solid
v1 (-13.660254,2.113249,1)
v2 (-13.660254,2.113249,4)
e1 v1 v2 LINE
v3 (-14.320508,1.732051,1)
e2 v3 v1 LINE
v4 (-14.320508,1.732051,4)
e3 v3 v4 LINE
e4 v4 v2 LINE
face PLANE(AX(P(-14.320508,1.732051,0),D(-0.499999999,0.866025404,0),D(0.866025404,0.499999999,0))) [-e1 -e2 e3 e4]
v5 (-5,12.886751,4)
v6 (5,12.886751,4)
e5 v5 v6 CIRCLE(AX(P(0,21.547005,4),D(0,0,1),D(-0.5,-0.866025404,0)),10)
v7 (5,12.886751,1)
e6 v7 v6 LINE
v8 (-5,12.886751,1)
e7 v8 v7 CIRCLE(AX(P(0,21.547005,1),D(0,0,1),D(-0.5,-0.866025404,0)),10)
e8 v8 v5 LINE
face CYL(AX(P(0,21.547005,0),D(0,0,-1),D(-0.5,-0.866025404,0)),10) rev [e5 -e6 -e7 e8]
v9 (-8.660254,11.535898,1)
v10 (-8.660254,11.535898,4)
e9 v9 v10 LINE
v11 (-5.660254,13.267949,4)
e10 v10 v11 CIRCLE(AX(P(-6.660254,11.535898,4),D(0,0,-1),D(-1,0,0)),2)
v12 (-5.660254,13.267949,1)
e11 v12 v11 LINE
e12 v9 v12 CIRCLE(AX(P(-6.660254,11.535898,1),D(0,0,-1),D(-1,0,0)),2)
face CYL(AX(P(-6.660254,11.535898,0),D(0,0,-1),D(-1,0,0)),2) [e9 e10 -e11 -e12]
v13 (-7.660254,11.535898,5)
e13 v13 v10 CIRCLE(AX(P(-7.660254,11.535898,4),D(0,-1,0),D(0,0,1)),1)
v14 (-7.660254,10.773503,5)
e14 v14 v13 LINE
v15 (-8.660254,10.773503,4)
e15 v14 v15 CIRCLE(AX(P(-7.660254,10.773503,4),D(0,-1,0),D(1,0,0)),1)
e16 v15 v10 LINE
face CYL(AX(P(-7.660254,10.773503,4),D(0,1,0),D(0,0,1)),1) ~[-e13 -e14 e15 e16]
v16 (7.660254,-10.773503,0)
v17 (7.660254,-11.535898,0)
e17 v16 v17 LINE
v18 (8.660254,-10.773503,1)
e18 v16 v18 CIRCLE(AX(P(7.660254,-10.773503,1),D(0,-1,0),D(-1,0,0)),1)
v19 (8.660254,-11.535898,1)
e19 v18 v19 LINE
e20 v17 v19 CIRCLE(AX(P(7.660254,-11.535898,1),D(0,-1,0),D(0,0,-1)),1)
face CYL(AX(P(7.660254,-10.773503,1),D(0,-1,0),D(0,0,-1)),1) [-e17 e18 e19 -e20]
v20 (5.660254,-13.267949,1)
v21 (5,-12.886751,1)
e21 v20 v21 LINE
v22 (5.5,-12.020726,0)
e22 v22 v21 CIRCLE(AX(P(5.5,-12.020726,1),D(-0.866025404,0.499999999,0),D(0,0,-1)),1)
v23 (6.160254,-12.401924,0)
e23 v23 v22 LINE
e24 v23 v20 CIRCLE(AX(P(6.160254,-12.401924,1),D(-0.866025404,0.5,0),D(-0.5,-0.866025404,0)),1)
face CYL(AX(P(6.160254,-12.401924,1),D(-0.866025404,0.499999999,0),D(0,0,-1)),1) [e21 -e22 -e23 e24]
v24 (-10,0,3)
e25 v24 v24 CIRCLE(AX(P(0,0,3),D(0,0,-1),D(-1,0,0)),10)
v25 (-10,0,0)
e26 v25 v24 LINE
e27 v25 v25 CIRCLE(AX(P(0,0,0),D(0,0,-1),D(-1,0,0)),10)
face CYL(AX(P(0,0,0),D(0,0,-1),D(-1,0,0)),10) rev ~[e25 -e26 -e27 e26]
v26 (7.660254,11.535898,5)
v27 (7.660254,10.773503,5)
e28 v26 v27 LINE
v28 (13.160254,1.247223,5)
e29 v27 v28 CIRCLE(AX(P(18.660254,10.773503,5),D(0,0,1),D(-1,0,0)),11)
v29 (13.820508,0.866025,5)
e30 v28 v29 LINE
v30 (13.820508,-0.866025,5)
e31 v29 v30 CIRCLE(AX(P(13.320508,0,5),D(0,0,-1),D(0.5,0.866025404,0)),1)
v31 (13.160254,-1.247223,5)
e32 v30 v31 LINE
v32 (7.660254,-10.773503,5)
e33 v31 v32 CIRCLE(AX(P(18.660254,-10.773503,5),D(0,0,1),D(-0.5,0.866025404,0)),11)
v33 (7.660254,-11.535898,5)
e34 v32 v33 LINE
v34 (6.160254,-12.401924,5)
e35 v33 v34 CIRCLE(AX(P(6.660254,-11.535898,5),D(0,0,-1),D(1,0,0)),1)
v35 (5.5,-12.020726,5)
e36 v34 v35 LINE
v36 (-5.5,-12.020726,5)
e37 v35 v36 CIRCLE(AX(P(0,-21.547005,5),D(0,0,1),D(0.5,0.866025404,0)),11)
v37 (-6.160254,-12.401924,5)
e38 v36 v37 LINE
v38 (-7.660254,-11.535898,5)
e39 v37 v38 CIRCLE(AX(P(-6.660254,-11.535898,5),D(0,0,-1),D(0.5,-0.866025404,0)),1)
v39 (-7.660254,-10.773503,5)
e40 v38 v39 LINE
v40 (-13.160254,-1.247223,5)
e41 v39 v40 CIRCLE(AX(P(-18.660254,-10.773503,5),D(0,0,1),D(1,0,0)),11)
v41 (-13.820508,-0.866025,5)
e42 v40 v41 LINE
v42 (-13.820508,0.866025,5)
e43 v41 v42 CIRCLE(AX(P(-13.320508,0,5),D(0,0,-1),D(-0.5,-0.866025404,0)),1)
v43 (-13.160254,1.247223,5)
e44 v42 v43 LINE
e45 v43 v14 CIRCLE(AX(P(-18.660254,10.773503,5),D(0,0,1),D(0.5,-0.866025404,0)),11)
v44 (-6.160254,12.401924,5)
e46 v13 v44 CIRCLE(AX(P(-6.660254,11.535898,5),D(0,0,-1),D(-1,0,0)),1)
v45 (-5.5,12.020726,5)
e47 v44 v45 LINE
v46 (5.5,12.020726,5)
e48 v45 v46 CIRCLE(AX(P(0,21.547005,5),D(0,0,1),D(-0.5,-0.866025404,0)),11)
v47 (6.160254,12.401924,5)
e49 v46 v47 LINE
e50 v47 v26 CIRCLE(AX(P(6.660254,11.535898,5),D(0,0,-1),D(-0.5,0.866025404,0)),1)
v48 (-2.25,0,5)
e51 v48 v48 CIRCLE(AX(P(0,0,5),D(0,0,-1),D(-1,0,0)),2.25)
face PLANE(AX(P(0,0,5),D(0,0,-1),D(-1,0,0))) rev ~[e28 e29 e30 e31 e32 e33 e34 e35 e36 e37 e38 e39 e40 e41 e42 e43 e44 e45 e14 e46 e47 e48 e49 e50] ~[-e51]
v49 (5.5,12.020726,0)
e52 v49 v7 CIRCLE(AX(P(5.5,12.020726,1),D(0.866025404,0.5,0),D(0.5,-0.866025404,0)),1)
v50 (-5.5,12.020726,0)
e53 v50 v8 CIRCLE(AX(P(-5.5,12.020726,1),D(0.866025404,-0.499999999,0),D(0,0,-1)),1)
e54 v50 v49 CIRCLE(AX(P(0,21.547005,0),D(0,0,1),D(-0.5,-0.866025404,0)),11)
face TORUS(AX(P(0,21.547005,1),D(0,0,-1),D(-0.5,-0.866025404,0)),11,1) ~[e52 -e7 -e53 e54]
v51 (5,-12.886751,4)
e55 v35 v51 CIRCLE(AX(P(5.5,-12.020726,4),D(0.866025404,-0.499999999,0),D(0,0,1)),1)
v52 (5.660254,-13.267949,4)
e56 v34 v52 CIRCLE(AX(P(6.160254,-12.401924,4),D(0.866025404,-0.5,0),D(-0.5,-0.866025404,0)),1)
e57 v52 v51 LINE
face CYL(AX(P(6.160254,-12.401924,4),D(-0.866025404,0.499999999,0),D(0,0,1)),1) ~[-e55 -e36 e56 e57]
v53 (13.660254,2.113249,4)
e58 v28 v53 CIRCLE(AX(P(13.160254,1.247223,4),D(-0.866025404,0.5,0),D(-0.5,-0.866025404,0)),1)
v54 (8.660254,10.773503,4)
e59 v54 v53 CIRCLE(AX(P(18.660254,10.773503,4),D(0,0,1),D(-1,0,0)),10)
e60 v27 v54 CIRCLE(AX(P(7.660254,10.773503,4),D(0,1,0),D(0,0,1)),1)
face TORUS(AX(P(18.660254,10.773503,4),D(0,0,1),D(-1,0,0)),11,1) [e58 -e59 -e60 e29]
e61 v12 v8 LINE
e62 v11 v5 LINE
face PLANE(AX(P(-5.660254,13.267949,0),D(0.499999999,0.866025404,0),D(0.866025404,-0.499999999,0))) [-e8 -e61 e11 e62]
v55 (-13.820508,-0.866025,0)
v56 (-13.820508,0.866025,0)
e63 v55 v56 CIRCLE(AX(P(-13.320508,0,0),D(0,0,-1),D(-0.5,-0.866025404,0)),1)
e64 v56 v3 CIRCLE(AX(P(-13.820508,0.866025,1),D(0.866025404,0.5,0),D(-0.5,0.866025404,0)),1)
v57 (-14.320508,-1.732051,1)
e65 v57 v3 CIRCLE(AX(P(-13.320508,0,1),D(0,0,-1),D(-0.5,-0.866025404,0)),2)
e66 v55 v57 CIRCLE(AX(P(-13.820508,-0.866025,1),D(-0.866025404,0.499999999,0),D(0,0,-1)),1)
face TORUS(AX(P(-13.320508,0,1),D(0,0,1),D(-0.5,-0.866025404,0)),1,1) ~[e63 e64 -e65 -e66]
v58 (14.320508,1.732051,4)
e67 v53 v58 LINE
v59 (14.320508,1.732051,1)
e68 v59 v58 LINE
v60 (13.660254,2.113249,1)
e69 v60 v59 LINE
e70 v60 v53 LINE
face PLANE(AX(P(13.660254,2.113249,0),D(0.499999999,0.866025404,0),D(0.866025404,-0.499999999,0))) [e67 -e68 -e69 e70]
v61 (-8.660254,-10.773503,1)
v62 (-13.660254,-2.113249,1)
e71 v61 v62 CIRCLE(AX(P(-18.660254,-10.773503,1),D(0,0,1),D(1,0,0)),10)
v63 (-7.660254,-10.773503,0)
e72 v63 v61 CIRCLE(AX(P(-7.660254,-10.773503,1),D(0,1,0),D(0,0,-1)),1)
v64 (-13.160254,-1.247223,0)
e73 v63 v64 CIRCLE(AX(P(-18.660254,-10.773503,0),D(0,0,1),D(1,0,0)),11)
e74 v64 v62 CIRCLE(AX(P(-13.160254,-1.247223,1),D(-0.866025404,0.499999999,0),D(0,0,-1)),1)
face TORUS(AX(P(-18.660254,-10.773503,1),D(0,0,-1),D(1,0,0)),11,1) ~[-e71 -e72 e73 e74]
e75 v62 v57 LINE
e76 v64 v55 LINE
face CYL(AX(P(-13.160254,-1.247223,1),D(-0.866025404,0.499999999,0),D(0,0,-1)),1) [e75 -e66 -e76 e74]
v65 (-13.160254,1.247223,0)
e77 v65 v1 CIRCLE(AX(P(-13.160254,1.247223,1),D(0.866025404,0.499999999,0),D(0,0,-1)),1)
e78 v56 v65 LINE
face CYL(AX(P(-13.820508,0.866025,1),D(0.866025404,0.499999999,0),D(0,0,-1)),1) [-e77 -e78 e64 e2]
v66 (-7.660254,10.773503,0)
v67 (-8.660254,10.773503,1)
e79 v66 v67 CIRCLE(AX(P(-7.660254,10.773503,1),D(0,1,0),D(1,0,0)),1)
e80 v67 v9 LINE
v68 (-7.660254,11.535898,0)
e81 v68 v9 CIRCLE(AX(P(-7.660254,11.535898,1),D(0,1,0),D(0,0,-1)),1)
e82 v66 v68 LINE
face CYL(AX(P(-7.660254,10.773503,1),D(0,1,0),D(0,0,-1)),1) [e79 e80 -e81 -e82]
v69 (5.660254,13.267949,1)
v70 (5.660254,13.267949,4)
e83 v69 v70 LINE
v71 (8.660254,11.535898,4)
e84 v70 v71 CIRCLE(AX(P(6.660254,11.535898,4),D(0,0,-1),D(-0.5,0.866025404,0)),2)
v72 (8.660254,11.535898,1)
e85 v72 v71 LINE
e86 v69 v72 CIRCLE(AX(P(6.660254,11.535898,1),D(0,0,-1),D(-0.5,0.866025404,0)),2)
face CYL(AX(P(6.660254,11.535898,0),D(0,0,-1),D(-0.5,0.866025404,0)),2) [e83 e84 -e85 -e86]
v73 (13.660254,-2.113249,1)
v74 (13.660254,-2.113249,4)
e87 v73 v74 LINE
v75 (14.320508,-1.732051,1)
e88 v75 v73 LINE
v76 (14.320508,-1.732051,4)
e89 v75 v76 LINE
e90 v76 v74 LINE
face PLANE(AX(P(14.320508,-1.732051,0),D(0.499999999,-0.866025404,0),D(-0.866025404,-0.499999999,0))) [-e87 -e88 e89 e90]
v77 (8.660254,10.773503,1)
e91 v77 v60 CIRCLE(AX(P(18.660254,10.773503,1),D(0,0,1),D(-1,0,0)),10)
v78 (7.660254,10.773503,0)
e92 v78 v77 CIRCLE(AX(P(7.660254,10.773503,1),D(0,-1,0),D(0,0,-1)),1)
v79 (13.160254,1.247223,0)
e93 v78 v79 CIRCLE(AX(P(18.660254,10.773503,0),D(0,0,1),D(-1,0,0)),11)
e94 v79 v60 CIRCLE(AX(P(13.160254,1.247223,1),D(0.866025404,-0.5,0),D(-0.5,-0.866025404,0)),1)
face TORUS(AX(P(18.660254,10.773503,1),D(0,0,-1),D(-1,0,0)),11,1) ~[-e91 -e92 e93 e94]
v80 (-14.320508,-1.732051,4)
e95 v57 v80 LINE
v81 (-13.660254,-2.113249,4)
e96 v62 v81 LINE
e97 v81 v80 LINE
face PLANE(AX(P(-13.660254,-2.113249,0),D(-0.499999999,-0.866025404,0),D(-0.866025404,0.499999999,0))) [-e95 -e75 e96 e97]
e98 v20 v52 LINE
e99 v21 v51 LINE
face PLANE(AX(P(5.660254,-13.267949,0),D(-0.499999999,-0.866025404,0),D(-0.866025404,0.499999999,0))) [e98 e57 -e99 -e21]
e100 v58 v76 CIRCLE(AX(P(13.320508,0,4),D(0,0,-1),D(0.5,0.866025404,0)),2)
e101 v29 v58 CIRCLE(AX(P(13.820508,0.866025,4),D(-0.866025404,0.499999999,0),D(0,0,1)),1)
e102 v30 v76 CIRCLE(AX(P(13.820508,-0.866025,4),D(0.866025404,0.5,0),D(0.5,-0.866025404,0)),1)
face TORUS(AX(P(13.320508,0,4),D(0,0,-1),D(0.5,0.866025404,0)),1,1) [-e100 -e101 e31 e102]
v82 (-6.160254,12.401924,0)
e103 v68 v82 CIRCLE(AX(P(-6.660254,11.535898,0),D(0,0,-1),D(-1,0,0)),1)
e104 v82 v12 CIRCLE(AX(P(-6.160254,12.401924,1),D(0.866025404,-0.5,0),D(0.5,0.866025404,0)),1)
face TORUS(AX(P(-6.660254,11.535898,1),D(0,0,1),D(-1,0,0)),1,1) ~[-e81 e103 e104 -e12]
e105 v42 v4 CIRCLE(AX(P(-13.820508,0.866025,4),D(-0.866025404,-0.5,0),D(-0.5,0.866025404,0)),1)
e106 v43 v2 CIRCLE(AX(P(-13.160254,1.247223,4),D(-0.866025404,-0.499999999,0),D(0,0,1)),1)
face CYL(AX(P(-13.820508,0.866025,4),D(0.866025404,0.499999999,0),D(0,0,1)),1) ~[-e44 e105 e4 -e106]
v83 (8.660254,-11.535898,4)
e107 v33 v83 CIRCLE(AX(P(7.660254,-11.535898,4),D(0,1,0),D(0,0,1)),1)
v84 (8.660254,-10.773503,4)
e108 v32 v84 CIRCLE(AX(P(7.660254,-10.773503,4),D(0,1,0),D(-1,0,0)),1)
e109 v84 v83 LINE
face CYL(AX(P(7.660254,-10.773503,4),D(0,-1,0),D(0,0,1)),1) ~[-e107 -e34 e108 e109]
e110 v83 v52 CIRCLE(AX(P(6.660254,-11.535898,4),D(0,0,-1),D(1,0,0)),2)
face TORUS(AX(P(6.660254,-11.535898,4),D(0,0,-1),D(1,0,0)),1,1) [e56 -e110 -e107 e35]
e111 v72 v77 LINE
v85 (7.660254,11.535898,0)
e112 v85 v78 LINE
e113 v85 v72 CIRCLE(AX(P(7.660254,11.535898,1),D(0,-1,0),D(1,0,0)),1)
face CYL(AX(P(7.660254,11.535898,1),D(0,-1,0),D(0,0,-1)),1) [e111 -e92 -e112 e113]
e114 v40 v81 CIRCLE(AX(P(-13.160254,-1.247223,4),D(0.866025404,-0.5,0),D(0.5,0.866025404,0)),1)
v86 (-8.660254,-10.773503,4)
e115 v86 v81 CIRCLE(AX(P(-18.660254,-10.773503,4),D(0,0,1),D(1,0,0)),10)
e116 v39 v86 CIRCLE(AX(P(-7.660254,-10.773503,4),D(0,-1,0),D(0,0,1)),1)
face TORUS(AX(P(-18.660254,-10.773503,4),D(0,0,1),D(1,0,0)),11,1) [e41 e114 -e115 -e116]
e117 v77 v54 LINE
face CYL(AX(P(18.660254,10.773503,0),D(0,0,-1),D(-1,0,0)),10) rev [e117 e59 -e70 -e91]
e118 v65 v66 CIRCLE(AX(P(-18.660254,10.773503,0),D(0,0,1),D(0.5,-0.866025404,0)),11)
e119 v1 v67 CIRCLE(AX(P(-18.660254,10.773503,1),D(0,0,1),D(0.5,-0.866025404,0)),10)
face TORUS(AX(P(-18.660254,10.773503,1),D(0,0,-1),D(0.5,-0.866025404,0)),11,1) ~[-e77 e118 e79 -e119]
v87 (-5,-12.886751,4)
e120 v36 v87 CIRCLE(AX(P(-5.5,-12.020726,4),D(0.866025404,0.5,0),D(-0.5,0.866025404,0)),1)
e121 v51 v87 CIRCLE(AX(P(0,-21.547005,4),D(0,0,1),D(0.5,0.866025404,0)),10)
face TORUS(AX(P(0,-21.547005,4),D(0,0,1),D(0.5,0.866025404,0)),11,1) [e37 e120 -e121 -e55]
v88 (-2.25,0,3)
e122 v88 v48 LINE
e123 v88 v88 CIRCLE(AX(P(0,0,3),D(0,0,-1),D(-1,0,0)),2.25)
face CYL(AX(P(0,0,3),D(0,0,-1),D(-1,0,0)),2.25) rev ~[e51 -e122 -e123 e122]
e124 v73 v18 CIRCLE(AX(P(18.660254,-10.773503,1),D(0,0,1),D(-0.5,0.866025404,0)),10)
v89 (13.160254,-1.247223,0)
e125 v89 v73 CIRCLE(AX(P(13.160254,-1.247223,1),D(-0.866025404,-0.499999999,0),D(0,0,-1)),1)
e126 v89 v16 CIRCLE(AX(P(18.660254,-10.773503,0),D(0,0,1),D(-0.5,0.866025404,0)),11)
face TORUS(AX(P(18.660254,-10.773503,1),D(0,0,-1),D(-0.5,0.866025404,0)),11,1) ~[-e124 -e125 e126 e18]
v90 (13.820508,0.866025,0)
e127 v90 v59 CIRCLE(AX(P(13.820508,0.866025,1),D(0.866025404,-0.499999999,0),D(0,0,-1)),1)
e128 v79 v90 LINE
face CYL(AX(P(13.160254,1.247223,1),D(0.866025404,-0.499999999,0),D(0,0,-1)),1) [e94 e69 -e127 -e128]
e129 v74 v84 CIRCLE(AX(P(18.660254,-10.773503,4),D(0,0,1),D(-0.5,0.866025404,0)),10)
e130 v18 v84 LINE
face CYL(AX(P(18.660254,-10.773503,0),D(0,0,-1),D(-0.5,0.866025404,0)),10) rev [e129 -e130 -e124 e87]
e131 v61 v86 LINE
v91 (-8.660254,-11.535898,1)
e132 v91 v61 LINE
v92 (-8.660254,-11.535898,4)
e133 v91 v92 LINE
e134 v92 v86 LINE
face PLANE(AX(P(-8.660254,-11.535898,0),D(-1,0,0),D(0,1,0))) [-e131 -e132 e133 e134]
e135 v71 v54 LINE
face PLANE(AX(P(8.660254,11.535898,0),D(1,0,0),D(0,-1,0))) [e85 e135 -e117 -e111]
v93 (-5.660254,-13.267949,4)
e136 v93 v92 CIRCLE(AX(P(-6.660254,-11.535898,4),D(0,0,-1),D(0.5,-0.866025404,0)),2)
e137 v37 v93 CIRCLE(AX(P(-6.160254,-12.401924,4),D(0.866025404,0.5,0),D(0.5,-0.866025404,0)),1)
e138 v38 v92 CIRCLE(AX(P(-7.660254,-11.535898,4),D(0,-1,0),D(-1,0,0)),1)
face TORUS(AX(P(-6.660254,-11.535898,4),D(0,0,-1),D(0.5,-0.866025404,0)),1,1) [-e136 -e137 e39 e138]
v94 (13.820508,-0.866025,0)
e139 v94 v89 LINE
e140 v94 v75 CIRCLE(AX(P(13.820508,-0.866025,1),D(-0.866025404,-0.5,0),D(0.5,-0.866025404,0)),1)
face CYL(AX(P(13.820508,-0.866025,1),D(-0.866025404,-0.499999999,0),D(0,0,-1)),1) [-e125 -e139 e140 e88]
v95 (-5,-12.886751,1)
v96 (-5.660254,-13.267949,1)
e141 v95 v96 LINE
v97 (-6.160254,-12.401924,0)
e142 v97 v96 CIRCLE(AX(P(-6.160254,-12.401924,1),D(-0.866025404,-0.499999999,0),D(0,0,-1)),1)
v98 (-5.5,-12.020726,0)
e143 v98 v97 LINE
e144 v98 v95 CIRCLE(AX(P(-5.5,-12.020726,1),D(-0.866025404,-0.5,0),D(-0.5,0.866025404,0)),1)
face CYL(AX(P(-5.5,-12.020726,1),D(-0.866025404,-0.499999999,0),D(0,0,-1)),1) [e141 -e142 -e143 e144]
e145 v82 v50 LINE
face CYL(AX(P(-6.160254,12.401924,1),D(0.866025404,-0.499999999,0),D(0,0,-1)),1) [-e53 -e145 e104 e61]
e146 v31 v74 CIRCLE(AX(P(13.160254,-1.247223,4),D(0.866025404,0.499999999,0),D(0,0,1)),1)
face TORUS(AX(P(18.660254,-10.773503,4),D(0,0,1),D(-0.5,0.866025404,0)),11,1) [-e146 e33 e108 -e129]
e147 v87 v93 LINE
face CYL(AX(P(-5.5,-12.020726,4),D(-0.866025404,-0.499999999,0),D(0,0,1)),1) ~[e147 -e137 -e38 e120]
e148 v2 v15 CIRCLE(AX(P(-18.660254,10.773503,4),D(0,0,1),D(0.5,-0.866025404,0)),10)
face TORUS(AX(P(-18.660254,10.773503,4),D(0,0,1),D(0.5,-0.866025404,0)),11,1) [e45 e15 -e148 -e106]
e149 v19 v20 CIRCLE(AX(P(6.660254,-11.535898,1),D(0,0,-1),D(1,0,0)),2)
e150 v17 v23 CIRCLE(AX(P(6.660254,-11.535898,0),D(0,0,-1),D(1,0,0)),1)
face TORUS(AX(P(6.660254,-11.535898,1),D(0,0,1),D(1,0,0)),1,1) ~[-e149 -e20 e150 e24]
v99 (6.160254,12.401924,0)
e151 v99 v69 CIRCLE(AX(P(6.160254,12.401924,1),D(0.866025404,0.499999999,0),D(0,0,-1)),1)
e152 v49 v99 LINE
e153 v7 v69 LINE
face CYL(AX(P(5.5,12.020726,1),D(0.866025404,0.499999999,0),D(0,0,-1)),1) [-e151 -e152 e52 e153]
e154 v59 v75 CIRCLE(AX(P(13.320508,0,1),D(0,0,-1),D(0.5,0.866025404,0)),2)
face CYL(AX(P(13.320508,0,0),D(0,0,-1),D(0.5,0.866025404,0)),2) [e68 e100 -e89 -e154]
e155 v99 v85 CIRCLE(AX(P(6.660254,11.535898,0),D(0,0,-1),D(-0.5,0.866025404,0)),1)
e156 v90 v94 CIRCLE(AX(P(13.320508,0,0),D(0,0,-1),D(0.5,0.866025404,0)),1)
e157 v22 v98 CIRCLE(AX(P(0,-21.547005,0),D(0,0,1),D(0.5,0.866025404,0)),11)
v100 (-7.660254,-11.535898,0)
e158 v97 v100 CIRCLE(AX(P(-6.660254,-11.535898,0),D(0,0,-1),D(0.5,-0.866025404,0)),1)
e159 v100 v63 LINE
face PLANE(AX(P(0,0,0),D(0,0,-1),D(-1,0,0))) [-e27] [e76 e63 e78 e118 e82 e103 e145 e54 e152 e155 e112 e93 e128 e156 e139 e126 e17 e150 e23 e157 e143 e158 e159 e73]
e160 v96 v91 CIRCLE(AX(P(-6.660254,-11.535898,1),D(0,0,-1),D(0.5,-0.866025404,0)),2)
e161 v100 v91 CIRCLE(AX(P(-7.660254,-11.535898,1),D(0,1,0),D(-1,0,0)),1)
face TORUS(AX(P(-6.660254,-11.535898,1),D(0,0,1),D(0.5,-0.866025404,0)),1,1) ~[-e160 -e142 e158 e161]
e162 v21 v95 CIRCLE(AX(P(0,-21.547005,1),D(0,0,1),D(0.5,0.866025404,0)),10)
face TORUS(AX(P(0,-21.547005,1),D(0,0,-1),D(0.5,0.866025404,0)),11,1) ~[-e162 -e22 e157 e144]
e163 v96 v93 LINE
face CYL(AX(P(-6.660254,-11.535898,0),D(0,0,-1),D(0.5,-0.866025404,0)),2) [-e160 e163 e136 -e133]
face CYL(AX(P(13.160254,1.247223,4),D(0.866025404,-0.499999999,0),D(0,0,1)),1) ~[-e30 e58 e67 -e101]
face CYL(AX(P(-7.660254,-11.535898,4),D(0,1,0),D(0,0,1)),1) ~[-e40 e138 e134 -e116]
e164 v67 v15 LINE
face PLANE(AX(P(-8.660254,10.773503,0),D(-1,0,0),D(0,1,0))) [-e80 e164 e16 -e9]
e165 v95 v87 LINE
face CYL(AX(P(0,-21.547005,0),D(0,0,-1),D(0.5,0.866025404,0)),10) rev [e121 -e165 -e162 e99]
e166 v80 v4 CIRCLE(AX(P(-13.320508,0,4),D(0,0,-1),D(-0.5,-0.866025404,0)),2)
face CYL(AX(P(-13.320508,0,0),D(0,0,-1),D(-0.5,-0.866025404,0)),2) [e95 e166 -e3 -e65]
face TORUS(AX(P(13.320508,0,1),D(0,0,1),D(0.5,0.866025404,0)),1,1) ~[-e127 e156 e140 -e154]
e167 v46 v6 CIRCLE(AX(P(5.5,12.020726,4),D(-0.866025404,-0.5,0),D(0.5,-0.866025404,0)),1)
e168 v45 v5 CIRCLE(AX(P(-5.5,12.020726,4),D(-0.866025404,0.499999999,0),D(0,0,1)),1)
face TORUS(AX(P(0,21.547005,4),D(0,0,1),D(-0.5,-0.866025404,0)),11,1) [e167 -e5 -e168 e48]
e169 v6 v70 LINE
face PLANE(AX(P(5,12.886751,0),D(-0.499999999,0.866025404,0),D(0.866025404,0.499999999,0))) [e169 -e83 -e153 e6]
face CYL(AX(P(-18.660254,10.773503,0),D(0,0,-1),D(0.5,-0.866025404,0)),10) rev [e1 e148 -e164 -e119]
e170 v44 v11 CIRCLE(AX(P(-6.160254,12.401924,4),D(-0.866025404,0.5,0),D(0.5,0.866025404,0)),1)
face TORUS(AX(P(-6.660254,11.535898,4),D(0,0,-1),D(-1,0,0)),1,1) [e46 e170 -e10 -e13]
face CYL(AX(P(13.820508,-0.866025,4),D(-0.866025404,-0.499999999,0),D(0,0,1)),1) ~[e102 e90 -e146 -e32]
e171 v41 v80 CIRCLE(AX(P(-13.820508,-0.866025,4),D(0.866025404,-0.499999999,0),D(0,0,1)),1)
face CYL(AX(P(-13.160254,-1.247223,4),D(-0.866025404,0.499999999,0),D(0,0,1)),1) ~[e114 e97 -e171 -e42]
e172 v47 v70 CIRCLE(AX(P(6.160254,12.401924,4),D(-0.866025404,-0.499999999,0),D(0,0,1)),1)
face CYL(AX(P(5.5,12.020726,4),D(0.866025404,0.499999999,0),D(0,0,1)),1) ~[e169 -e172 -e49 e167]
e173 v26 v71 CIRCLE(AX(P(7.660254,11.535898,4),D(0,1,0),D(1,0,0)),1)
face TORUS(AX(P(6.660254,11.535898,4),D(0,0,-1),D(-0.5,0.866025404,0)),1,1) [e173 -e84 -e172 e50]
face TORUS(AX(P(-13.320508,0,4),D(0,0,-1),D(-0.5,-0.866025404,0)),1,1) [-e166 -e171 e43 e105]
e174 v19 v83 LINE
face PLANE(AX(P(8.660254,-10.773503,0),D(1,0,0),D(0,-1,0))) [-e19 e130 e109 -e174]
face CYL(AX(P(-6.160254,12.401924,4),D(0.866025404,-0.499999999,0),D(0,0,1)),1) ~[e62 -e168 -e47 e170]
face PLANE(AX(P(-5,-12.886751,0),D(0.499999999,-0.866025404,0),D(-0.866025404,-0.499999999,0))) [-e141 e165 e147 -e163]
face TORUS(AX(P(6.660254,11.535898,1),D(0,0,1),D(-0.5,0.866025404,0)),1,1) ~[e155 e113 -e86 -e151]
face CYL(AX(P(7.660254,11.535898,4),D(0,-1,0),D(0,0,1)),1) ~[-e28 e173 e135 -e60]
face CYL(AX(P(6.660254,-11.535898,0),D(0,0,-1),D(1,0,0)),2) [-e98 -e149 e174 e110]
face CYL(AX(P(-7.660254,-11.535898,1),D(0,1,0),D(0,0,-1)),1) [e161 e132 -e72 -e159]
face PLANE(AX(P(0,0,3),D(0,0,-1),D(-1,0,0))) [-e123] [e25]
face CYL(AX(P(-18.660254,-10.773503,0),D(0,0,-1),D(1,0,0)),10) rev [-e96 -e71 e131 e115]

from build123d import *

# Parameters (mm, degrees)
EXTRUDE_1_DEPTH     = 5
SKETCH_2_R          = 10
CUT_EXTRUDE_1_DEPTH = 3
SKETCH_3_R          = 2.25
CUT_EXTRUDE_2_DEPTH = 3
FILLET_1_R          = 1


with BuildPart() as part:
    # 草图1 → 凸台-拉伸1 (new body)
    with BuildSketch(Plane.XY):
        with BuildLine():
            Line((-14.320508076, 1.732050808), (-13.660254038, 2.113248654))
            ThreePointArc((-13.660254038, 2.113248654), (-10, 5.773502692), (-8.660254038, 10.773502692))
            Line((-8.660254038, 10.773502692), (-8.660254038, 11.535898385))
            ThreePointArc((-8.660254038, 11.535898385), (-7.660254038, 13.267949192), (-5.660254038, 13.267949192))
            Line((-5.660254038, 13.267949192), (-5, 12.886751346))
            ThreePointArc((-5, 12.886751346), (0, 11.547005384), (5, 12.886751346))
            Line((5, 12.886751346), (5.660254038, 13.267949192))
            ThreePointArc((5.660254038, 13.267949192), (7.660254038, 13.267949192), (8.660254038, 11.535898385))
            Line((8.660254038, 11.535898385), (8.660254038, 10.773502692))
            ThreePointArc((8.660254038, 10.773502692), (10, 5.773502692), (13.660254038, 2.113248654))
            Line((13.660254038, 2.113248654), (14.320508076, 1.732050808))
            ThreePointArc((14.320508076, 1.732050808), (15.320508076, 0), (14.320508076, -1.732050808))
            Line((14.320508076, -1.732050808), (13.660254038, -2.113248654))
            ThreePointArc((13.660254038, -2.113248654), (10, -5.773502692), (8.660254038, -10.773502692))
            Line((8.660254038, -10.773502692), (8.660254038, -11.535898385))
            ThreePointArc((8.660254038, -11.535898385), (7.660254038, -13.267949192), (5.660254038, -13.267949192))
            Line((5.660254038, -13.267949192), (5, -12.886751346))
            ThreePointArc((5, -12.886751346), (0, -11.547005384), (-5, -12.886751346))
            Line((-5, -12.886751346), (-5.660254038, -13.267949192))
            ThreePointArc((-5.660254038, -13.267949192), (-7.660254038, -13.267949192), (-8.660254038, -11.535898385))
            Line((-8.660254038, -11.535898385), (-8.660254038, -10.773502692))
            ThreePointArc((-8.660254038, -10.773502692), (-10, -5.773502692), (-13.660254038, -2.113248654))
            Line((-13.660254038, -2.113248654), (-14.320508076, -1.732050808))
            ThreePointArc((-14.320508076, -1.732050808), (-15.320508076, 0), (-14.320508076, 1.732050808))
        make_face()
    extrude(amount=EXTRUDE_1_DEPTH)

    # 草图2 → 切除-拉伸1 (cut)
    with BuildSketch(Plane(origin=(0, 0, 0), x_dir=(-1, 0, 0), z_dir=(0, 0, -1))):
        Circle(SKETCH_2_R)
    extrude(amount=-CUT_EXTRUDE_1_DEPTH, mode=Mode.SUBTRACT)

    # 草图3 → 切除-拉伸2 (cut)
    with BuildSketch(Plane(origin=(0, 0, 3), x_dir=(-1, 0, 0), z_dir=(0, 0, -1))):
        Circle(SKETCH_3_R)
    extrude(amount=-CUT_EXTRUDE_2_DEPTH, mode=Mode.SUBTRACT)

    # 圆角1
    fillet_1_edges = [part.edges().sort_by_distance(p)[0] for p in [
        (-7.660254038, -13.267949192, 5),
        (-5.330127019, -13.077350269, 5),
        (0, -11.547005384, 5),
        (-13.990381057, -1.922649731, 0),
        (-15.320508076, 0, 0),
        (-13.990381057, 1.922649731, 0),
        (-10, 5.773502692, 0),
        (-8.660254038, 11.154700538, 0),
        (5.330127019, -13.077350269, 5),
        (-7.660254038, 13.267949192, 0),
        (-5.330127019, 13.077350269, 0),
        (0, 11.547005384, 0),
        (5.330127019, 13.077350269, 0),
        (7.660254038, 13.267949192, 0),
        (8.660254038, 11.154700538, 0),
        (10, 5.773502692, 0),
        (13.990381057, 1.922649731, 0),
        (15.320508076, 0, 0),
        (13.990381057, -1.922649731, 0),
        (7.660254038, -13.267949192, 5),
        (10, -5.773502692, 0),
        (8.660254038, -11.154700538, 0),
        (7.660254038, -13.267949192, 0),
        (5.330127019, -13.077350269, 0),
        (0, -11.547005384, 0),
        (-5.330127019, -13.077350269, 0),
        (-7.660254038, -13.267949192, 0),
        (-8.660254038, -11.154700538, 0),
        (-10, -5.773502692, 0),
        (8.660254038, -11.154700538, 5),
        (10, -5.773502692, 5),
        (13.990381057, -1.922649731, 5),
        (15.320508076, 0, 5),
        (13.990381057, 1.922649731, 5),
        (-10, -5.773502692, 5),
        (10, 5.773502692, 5),
        (8.660254038, 11.154700538, 5),
        (7.660254038, 13.267949192, 5),
        (5.330127019, 13.077350269, 5),
        (0, 11.547005384, 5),
        (-5.330127019, 13.077350269, 5),
        (-7.660254038, 13.267949192, 5),
        (-8.660254038, 11.154700538, 5),
        (-10, 5.773502692, 5),
        (-13.990381057, 1.922649731, 5),
        (-8.660254038, -11.154700538, 5),
        (-15.320508076, 0, 5),
        (-13.990381057, -1.922649731, 5),
    ]]
    fillet(fillet_1_edges, radius=FILLET_1_R)


solid = part.part
